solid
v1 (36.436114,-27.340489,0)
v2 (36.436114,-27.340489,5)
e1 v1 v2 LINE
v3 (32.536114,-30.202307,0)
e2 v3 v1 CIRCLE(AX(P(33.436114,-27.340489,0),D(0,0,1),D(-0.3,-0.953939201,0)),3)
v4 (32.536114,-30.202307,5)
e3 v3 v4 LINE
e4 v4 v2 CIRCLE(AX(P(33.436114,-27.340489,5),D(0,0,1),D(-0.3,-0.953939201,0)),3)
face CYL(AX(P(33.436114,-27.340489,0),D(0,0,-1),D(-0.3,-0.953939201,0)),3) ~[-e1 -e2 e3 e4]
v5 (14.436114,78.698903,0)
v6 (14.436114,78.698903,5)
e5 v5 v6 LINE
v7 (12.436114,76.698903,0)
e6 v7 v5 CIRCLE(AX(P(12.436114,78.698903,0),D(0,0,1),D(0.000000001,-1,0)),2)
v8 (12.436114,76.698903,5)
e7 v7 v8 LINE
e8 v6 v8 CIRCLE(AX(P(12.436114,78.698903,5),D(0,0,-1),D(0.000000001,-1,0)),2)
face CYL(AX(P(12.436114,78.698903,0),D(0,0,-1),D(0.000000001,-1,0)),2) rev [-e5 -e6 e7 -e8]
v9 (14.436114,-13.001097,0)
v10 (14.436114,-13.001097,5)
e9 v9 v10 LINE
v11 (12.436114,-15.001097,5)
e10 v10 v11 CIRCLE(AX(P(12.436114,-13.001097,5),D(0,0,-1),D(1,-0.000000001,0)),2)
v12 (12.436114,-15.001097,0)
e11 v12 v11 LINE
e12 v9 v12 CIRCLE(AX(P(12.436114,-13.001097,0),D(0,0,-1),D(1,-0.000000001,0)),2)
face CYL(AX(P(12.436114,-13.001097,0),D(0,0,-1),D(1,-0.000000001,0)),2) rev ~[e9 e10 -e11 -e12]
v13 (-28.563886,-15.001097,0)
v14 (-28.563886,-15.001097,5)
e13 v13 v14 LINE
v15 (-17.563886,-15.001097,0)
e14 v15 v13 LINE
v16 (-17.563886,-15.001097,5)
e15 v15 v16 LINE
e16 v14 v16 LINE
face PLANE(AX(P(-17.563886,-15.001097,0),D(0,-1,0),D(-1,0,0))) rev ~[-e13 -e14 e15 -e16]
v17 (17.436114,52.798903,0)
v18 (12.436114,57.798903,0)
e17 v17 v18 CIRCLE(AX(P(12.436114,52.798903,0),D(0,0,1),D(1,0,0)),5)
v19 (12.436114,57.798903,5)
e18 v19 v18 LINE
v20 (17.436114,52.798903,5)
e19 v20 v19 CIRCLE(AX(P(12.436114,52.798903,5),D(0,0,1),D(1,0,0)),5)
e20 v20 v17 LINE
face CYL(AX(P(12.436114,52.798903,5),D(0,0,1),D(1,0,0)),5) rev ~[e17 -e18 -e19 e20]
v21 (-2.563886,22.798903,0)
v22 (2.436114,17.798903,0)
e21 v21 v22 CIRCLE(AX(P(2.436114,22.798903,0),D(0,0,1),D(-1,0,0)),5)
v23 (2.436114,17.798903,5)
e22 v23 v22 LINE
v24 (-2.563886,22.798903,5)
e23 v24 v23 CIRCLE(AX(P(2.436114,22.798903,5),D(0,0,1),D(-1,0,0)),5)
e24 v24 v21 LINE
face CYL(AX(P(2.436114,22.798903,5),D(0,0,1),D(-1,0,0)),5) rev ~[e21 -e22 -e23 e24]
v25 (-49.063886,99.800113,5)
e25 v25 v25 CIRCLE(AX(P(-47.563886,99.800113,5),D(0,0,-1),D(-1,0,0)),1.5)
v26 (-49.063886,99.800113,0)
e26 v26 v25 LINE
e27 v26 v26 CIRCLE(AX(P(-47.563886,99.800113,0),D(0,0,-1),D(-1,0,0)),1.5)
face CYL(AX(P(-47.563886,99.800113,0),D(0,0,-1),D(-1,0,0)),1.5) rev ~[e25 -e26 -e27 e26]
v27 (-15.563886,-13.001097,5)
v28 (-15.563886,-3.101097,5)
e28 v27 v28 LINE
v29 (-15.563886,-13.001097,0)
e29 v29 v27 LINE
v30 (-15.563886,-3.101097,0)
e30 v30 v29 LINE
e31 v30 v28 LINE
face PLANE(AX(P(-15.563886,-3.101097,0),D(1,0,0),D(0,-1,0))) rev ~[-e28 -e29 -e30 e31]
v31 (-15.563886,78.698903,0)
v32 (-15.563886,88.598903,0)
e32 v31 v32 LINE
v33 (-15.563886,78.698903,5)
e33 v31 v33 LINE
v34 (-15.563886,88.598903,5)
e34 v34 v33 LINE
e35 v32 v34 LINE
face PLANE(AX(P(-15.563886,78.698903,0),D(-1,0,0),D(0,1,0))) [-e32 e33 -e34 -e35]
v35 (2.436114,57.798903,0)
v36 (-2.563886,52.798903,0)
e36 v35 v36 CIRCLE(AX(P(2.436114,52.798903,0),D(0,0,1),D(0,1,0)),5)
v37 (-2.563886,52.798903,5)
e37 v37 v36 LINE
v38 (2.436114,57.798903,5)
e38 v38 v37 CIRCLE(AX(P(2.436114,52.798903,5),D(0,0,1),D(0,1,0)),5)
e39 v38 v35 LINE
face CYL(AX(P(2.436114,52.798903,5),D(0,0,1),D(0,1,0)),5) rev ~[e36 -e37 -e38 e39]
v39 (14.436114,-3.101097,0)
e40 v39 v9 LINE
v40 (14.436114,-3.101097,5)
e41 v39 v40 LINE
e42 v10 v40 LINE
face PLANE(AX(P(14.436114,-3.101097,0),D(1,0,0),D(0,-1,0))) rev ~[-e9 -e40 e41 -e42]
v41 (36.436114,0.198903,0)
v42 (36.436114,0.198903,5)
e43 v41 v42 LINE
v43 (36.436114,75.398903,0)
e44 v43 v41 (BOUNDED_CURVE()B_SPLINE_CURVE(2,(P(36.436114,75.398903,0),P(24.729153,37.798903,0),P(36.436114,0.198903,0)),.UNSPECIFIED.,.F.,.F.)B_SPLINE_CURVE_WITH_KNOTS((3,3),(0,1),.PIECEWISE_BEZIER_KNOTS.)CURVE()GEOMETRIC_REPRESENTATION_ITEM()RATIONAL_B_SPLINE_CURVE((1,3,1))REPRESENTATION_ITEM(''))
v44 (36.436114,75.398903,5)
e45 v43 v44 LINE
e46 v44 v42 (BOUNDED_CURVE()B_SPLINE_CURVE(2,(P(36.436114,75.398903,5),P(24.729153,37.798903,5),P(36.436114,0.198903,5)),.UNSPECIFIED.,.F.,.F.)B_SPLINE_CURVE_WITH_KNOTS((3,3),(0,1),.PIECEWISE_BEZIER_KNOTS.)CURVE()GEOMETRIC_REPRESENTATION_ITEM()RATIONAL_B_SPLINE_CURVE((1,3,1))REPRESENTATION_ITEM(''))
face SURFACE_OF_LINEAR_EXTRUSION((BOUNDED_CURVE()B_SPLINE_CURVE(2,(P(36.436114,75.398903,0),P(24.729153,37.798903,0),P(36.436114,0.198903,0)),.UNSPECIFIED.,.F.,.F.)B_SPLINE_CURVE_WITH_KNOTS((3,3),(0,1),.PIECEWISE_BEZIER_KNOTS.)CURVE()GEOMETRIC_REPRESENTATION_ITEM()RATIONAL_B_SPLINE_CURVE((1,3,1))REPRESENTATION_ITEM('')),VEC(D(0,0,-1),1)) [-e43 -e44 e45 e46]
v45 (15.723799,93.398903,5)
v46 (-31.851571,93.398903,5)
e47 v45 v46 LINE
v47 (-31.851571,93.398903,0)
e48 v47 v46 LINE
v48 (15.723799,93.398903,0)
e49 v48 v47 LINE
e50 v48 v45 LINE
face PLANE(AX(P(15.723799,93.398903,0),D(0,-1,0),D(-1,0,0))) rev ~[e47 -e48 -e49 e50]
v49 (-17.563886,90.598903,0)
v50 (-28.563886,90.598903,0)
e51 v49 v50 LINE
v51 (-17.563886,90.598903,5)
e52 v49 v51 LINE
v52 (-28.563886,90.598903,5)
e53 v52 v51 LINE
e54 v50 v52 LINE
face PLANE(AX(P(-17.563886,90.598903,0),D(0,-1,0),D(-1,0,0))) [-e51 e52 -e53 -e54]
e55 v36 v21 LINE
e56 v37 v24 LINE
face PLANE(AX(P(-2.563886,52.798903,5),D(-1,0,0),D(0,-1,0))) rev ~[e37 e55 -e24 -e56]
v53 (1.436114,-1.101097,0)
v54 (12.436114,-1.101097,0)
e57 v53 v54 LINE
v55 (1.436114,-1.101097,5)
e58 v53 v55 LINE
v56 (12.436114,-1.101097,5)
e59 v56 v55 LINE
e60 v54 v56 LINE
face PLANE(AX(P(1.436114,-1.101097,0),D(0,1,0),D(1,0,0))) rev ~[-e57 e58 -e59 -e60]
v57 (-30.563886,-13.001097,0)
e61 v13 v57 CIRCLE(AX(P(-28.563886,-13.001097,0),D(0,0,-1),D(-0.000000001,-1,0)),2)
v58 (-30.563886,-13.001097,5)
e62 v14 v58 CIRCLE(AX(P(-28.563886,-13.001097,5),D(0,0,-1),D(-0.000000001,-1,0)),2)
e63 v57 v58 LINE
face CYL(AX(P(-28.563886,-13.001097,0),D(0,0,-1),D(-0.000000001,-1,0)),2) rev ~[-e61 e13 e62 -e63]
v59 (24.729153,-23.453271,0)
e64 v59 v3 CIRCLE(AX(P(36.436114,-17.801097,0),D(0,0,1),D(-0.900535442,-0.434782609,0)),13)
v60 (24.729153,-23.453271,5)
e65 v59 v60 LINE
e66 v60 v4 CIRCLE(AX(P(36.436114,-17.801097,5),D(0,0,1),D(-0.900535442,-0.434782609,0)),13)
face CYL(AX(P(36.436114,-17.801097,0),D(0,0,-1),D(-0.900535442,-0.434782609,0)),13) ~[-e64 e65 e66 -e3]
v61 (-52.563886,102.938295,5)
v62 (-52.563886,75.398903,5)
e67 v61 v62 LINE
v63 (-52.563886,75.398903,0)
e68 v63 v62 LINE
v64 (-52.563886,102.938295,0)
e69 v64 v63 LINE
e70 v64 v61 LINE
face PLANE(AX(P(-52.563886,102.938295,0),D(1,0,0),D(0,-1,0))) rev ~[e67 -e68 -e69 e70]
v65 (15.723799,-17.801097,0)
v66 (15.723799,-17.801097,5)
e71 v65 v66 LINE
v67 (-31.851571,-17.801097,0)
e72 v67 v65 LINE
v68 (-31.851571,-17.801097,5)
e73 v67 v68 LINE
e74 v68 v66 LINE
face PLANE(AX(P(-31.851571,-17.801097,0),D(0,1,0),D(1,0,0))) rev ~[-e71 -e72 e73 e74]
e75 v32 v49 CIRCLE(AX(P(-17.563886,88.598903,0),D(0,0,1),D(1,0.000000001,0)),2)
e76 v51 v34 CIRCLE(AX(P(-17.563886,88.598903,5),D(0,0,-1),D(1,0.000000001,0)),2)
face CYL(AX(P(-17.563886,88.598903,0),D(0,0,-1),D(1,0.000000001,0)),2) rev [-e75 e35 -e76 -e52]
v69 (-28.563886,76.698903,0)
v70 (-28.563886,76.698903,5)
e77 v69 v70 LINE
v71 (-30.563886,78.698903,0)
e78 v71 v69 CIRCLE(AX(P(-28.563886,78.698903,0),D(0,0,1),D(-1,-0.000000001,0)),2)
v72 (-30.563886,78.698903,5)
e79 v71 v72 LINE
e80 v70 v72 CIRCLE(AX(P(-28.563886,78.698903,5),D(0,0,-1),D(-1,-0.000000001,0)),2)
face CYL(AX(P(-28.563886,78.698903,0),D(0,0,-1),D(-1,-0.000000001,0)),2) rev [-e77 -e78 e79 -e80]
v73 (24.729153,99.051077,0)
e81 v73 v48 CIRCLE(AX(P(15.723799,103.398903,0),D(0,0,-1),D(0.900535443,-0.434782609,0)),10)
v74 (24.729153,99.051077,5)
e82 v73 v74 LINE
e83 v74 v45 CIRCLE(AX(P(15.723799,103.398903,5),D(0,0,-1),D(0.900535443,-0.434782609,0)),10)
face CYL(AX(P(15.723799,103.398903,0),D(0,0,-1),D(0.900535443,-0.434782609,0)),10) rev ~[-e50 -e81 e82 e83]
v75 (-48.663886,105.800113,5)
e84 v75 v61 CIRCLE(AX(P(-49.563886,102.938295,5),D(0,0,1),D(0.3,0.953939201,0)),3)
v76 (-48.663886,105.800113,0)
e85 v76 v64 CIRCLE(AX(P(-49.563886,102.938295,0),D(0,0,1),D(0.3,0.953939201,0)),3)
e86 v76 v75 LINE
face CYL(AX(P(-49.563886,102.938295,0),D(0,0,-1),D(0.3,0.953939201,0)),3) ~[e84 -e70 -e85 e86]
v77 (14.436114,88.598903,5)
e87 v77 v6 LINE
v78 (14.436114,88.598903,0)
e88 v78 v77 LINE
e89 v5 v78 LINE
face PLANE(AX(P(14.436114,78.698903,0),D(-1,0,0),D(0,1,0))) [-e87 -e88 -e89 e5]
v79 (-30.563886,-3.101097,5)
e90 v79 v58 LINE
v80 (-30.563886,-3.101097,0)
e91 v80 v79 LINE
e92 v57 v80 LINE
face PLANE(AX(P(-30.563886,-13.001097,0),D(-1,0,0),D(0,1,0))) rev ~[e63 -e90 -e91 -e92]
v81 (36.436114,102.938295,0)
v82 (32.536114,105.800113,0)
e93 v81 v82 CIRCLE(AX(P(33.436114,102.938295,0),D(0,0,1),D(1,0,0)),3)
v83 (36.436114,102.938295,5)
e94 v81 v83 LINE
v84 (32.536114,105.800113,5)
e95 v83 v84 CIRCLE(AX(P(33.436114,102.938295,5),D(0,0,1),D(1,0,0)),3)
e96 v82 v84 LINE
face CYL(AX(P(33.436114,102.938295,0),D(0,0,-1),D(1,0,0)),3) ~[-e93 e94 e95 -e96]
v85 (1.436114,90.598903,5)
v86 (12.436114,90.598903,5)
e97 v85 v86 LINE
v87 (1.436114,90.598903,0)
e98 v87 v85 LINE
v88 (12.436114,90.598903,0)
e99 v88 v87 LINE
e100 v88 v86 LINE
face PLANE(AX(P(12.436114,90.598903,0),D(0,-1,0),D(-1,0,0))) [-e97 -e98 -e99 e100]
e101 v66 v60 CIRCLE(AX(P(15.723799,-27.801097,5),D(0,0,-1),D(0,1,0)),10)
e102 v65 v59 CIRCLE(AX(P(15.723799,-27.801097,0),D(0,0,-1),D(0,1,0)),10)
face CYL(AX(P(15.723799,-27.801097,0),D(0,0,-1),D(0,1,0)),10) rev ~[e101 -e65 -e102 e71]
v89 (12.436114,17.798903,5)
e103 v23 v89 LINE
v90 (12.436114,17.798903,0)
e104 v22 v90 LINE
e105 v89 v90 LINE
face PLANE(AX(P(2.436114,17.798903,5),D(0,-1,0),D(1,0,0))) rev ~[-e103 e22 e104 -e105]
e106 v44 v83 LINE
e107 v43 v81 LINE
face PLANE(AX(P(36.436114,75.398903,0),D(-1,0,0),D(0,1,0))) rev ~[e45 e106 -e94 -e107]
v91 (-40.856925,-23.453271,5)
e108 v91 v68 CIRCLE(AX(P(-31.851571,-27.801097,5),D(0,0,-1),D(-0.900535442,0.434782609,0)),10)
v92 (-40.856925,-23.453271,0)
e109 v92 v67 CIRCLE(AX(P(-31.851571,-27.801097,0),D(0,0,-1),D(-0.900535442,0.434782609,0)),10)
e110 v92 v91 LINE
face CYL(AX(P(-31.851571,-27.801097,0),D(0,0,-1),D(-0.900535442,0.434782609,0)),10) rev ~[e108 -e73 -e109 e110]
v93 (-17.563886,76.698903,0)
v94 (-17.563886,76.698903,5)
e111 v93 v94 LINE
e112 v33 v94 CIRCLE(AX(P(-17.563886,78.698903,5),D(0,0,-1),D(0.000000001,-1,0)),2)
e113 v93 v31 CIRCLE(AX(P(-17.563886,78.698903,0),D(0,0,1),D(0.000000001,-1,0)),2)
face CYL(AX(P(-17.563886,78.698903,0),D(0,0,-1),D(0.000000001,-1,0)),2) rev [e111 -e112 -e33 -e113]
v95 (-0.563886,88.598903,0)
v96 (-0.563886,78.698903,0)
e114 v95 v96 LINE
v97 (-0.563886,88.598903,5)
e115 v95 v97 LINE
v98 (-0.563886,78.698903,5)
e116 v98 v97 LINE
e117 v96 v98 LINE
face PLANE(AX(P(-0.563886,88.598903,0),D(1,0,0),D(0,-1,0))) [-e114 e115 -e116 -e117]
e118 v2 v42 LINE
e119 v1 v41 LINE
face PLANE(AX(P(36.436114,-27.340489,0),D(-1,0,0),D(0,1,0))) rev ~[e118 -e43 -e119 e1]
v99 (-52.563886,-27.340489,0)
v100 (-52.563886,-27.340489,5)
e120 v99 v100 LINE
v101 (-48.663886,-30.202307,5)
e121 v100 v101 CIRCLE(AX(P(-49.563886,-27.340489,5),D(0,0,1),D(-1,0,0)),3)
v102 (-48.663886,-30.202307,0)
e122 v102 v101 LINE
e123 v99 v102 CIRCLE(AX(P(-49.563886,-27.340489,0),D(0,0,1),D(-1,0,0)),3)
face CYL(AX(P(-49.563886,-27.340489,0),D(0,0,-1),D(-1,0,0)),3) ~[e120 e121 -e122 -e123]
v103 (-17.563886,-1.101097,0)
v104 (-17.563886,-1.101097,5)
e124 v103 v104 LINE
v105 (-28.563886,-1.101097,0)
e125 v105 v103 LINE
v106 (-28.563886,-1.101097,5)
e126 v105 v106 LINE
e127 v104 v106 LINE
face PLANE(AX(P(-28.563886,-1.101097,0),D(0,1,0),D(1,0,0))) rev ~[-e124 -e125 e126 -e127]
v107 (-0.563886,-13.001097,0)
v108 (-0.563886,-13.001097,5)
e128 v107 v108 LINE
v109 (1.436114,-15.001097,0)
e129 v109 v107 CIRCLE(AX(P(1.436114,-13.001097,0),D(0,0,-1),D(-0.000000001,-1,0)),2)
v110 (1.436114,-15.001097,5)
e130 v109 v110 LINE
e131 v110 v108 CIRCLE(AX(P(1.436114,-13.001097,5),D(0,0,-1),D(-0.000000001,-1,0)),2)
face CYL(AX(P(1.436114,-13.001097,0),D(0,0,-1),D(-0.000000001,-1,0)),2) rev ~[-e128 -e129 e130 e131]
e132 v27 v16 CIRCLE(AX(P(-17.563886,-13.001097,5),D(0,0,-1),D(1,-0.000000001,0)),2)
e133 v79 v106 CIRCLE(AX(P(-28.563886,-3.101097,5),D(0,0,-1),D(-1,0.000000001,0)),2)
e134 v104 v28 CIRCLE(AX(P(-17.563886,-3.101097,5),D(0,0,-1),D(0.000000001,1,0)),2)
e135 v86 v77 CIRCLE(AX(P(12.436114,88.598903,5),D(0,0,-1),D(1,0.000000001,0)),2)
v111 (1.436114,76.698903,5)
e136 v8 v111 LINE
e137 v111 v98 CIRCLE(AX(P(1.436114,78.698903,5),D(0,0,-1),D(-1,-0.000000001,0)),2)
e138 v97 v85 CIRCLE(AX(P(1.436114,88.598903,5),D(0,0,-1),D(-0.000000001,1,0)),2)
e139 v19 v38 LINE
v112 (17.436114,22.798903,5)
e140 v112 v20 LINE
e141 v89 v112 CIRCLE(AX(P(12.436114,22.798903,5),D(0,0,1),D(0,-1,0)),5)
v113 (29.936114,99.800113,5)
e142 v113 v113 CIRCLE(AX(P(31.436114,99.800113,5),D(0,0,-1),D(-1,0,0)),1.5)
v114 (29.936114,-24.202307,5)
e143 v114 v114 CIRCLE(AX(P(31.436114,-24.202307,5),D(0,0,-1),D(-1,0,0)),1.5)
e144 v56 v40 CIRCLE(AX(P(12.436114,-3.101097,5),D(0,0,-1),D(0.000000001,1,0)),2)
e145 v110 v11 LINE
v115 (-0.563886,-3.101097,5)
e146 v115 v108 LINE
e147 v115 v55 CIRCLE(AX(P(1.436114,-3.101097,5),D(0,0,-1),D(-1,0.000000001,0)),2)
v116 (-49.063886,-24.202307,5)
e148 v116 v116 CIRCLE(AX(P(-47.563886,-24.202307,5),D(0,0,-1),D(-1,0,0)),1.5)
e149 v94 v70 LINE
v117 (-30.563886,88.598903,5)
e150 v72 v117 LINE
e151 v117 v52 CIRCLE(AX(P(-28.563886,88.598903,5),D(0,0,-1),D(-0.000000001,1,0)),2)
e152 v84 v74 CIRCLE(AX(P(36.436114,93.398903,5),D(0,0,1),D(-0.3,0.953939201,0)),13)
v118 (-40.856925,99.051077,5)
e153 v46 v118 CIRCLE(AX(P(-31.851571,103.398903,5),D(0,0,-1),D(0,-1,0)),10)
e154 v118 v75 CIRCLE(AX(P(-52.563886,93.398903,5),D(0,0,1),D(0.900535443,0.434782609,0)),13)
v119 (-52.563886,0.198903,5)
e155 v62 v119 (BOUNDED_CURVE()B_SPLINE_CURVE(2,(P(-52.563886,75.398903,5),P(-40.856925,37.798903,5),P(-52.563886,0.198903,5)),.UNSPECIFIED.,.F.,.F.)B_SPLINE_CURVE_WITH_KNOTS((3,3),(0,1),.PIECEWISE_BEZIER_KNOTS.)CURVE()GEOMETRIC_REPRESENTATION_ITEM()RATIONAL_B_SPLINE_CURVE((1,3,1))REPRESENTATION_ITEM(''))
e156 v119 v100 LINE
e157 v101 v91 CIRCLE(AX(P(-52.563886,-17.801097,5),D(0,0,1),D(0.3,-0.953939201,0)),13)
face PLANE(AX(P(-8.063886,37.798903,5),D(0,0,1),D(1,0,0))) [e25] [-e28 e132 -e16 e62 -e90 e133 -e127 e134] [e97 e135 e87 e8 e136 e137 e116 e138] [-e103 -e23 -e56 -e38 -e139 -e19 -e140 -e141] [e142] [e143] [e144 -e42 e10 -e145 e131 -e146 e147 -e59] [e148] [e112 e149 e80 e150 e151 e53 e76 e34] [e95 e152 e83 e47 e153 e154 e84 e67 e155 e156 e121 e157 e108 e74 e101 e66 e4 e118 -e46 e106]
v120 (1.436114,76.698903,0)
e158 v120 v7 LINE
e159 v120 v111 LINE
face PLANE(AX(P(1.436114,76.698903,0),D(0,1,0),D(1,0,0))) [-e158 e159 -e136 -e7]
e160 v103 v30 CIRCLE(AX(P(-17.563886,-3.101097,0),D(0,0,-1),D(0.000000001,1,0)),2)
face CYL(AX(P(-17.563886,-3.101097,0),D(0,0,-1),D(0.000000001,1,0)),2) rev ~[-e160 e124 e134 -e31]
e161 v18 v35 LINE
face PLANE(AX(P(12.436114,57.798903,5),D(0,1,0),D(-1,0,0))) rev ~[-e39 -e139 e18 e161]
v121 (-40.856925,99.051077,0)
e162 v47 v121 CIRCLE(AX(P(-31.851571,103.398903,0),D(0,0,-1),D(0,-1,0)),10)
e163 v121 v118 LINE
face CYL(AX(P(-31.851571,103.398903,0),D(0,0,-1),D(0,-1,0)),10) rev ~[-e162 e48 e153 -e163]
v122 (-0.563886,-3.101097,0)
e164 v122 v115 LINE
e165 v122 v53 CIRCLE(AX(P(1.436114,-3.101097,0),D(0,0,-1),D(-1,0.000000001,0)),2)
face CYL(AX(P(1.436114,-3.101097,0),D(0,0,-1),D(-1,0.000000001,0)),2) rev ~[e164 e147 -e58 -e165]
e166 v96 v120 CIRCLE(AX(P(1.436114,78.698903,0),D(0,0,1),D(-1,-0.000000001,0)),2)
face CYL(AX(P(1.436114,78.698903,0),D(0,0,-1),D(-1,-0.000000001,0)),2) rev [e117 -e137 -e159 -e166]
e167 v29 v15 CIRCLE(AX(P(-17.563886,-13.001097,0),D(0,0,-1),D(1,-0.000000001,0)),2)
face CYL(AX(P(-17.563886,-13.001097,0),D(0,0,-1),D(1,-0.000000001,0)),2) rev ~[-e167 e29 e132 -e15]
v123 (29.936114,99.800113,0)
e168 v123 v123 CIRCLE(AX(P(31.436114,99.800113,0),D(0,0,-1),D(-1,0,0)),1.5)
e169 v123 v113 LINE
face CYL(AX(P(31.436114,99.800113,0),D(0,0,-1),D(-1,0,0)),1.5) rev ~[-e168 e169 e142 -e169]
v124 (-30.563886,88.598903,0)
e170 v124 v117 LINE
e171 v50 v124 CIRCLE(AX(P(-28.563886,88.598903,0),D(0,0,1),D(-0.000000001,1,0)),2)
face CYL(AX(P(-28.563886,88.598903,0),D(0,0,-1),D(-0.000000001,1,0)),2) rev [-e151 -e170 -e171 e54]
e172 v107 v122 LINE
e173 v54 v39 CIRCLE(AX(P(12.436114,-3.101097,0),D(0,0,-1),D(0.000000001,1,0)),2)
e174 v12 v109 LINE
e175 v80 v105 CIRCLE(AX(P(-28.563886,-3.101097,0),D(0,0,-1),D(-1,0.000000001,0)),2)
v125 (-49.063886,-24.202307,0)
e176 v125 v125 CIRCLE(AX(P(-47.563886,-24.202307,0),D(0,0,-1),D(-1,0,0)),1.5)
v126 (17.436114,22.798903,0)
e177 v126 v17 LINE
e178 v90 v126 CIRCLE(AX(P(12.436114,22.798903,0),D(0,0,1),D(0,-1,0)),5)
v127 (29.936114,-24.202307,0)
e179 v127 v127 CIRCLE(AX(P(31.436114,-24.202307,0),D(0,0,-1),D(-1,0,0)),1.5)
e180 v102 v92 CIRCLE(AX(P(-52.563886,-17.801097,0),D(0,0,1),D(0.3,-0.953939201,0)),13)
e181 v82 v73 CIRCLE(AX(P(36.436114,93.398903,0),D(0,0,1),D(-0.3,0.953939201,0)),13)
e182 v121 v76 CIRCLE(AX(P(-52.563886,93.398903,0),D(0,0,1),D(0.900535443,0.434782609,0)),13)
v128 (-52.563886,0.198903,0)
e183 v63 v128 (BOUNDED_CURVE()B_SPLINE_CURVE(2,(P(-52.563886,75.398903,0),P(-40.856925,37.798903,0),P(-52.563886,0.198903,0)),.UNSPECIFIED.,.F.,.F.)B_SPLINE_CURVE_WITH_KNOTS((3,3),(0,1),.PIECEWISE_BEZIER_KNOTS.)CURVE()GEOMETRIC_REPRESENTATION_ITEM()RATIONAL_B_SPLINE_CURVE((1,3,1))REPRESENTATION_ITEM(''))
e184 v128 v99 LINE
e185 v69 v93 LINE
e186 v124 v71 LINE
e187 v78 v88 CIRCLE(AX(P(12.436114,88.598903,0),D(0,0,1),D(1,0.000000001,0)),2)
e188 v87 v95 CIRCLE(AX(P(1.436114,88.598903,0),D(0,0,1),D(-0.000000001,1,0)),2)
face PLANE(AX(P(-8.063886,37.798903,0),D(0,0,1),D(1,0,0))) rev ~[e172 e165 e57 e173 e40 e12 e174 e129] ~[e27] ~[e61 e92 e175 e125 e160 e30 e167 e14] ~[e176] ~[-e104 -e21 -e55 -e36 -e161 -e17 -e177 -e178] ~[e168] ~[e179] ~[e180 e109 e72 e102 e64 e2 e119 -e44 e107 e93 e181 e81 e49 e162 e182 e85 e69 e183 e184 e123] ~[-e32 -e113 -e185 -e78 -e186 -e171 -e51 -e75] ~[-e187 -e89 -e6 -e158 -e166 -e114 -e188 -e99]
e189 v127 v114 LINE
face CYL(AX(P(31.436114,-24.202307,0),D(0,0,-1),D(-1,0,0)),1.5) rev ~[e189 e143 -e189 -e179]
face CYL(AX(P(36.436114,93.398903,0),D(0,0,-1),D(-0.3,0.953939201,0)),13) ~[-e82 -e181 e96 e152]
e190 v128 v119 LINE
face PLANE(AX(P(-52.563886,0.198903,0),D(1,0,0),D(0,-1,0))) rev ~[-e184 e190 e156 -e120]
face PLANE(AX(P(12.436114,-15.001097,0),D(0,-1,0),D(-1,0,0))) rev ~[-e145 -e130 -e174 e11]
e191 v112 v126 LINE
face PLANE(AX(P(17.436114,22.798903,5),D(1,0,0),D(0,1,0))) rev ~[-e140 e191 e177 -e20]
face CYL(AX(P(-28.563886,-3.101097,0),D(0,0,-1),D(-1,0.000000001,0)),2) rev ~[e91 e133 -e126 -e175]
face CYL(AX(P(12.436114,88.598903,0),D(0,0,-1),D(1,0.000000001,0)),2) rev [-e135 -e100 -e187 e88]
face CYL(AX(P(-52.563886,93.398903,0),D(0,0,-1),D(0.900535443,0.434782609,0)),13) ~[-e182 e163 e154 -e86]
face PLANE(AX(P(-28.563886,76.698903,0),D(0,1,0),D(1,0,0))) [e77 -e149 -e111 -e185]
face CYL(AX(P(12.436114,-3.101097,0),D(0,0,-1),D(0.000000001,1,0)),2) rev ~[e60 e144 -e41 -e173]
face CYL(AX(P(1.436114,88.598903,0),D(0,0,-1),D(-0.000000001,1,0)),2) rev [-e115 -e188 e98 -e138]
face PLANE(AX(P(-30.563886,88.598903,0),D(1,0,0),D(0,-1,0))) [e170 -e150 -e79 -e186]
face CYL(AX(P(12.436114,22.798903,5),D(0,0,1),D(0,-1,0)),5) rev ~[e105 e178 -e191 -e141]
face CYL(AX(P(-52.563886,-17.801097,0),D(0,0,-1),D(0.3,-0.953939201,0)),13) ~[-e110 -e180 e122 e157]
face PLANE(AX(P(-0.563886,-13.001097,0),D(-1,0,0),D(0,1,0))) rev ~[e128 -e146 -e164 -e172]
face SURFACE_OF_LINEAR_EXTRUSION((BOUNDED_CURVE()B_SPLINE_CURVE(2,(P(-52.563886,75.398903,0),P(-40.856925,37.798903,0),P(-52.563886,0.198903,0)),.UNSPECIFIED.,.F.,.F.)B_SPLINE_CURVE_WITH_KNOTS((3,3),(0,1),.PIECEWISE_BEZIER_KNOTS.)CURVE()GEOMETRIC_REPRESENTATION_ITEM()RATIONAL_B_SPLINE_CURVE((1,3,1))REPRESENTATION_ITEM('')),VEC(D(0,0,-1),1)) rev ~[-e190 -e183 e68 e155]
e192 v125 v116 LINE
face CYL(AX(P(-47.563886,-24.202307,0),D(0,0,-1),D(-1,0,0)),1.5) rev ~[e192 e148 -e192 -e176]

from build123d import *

# Parameters (mm, degrees)
RESSALTO_EXTRUS_O3_DEPTH = 5
ESBO_O4_R                = 1.5
CORTE_EXTRUS_O3_DEPTH    = 10
CORTE_EXTRUS_O4_DEPTH    = 10


with BuildPart() as part:
    # Esboço1 → Ressalto-extrusão3 (new body)
    with BuildSketch(Plane.XY):
        with BuildLine():
            Line((-31.851570772, -17.801096987), (-27.063885949, -17.801096987))
            Line((-27.063885949, -17.801096987), (10.936114051, -17.801096987))
            Line((10.936114051, -17.801096987), (15.723798874, -17.801096987))
            ThreePointArc((15.723798874, -17.801096987), (21.039894205, -19.331201448), (24.729153299, -23.4532709))
            ThreePointArc((24.729153299, -23.4532709), (27.934250919, -27.635644423), (32.536114051, -30.202306605))
            ThreePointArc((32.536114051, -30.202306605), (35.210937986, -29.759166326), (36.436114051, -27.340489001))
            Line((36.436114051, -27.340489001), (36.436114051, -17.801096987))
            Line((36.436114051, -17.801096987), (36.436114051, 0.198903013))
            add(Edge.make_bspline(
                [(36.436114051, 75.398903013), (24.729153299, 37.798903013), (36.436114051, 0.198903013)],
                knots=[0, 0, 0, 1, 1, 1], degree=2, weights=[1, 3, 1]))
            Line((36.436114051, 75.398903013), (36.436114051, 93.398903013))
            Line((36.436114051, 93.398903013), (36.436114051, 102.938295027))
            ThreePointArc((36.436114051, 102.938295027), (35.210937986, 105.356972352), (32.536114051, 105.800112631))
            ThreePointArc((32.536114051, 105.800112631), (27.934250919, 103.23345045), (24.729153299, 99.051076926))
            ThreePointArc((24.729153299, 99.051076926), (21.039894205, 94.929007474), (15.723798874, 93.398903013))
            Line((15.723798874, 93.398903013), (10.936114051, 93.398903013))
            Line((10.936114051, 93.398903013), (-27.063885949, 93.398903013))
            Line((-27.063885949, 93.398903013), (-31.851570772, 93.398903013))
            ThreePointArc((-31.851570772, 93.398903013), (-37.167666102, 94.929007474), (-40.856925197, 99.051076926))
            ThreePointArc((-40.856925197, 99.051076926), (-44.062022817, 103.23345045), (-48.663885949, 105.800112631))
            ThreePointArc((-48.663885949, 105.800112631), (-51.338709884, 105.356972352), (-52.563885949, 102.938295027))
            Line((-52.563885949, 102.938295027), (-52.563885949, 93.398903013))
            Line((-52.563885949, 93.398903013), (-52.563885949, 75.398903013))
            add(Edge.make_bspline(
                [(-52.563885949, 75.398903013), (-40.856925197, 37.798903013), (-52.563885949, 0.198903013)],
                knots=[0, 0, 0, 1, 1, 1], degree=2, weights=[1, 3, 1]))
            Line((-52.563885949, 0.198903013), (-52.563885949, -17.801096987))
            Line((-52.563885949, -17.801096987), (-52.563885949, -27.340489001))
            ThreePointArc((-52.563885949, -27.340489001), (-51.338709884, -29.759166326), (-48.663885949, -30.202306605))
            ThreePointArc((-48.663885949, -30.202306605), (-44.062022817, -27.635644423), (-40.856925197, -23.4532709))
            ThreePointArc((-40.856925197, -23.4532709), (-37.167666102, -19.331201448), (-31.851570772, -17.801096987))
        make_face()
    extrude(amount=RESSALTO_EXTRUS_O3_DEPTH)

    # Esboço4 → Corte-extrusão3 (cut)
    with BuildSketch(Plane(origin=(0, 0, 0), x_dir=(-1, 0, 0), z_dir=(0, 0, -1))):
        with Locations((-31.436114051, 99.800112631)):
            Circle(ESBO_O4_R)
        with Locations((47.563885949, 99.800112631)):
            Circle(ESBO_O4_R)
        with Locations((47.563885949, -24.202306605)):
            Circle(ESBO_O4_R)
        with Locations((-31.436114051, -24.202306605)):
            Circle(ESBO_O4_R)
        with BuildLine():
            Line((-12.436114051, 90.598903013), (-1.436114051, 90.598903013))
            ThreePointArc((-1.436114051, 90.598903013), (-0.021900489, 90.013116575), (0.563885949, 88.598903013))
            Line((0.563885949, 88.598903013), (0.563885949, 78.698903013))
            ThreePointArc((0.563885949, 78.698903013), (-0.021900489, 77.284689451), (-1.436114051, 76.698903013))
            Line((-1.436114051, 76.698903013), (-12.436114051, 76.698903013))
            ThreePointArc((-12.436114051, 76.698903013), (-13.850327613, 77.284689451), (-14.436114051, 78.698903013))
            Line((-14.436114051, 78.698903013), (-14.436114051, 88.598903013))
            ThreePointArc((-14.436114051, 88.598903013), (-13.850327613, 90.013116575), (-12.436114051, 90.598903013))
        make_face()
        with BuildLine():
            Line((17.563885949, 90.598903013), (28.563885949, 90.598903013))
            ThreePointArc((28.563885949, 90.598903013), (29.978099511, 90.013116575), (30.563885949, 88.598903013))
            Line((30.563885949, 88.598903013), (30.563885949, 78.698903013))
            ThreePointArc((30.563885949, 78.698903013), (29.978099511, 77.284689451), (28.563885949, 76.698903013))
            Line((28.563885949, 76.698903013), (17.563885949, 76.698903013))
            ThreePointArc((17.563885949, 76.698903013), (16.149672387, 77.284689451), (15.563885949, 78.698903013))
            Line((15.563885949, 78.698903013), (15.563885949, 88.598903013))
            ThreePointArc((15.563885949, 88.598903013), (16.149672387, 90.013116575), (17.563885949, 90.598903013))
        make_face()
        with BuildLine():
            Line((30.563885949, -13.001096987), (30.563885949, -3.101096987))
            ThreePointArc((30.563885949, -3.101096987), (29.978099511, -1.686883425), (28.563885949, -1.101096987))
            Line((28.563885949, -1.101096987), (17.563885949, -1.101096987))
            ThreePointArc((17.563885949, -1.101096987), (16.149672387, -1.686883425), (15.563885949, -3.101096987))
            Line((15.563885949, -3.101096987), (15.563885949, -13.001096987))
            ThreePointArc((15.563885949, -13.001096987), (16.149672387, -14.415310549), (17.563885949, -15.001096987))
            Line((17.563885949, -15.001096987), (28.563885949, -15.001096987))
            ThreePointArc((28.563885949, -15.001096987), (29.978099511, -14.415310549), (30.563885949, -13.001096987))
        make_face()
        with BuildLine():
            Line((0.563885949, -13.001096987), (0.563885949, -3.101096987))
            ThreePointArc((0.563885949, -3.101096987), (-0.021900489, -1.686883425), (-1.436114051, -1.101096987))
            Line((-1.436114051, -1.101096987), (-12.436114051, -1.101096987))
            ThreePointArc((-12.436114051, -1.101096987), (-13.850327613, -1.686883425), (-14.436114051, -3.101096987))
            Line((-14.436114051, -3.101096987), (-14.436114051, -13.001096987))
            ThreePointArc((-14.436114051, -13.001096987), (-13.850327613, -14.415310549), (-12.436114051, -15.001096987))
            Line((-12.436114051, -15.001096987), (-1.436114051, -15.001096987))
            ThreePointArc((-1.436114051, -15.001096987), (-0.021900489, -14.415310549), (0.563885949, -13.001096987))
        make_face()
    extrude(amount=-CORTE_EXTRUS_O3_DEPTH, mode=Mode.SUBTRACT)

    # Esboço5 → Corte-extrusão4 (cut)
    with BuildSketch(Plane.XY.offset(5)):
        with BuildLine():
            Line((2.436114051, 17.798903013), (12.436114051, 17.798903013))
            ThreePointArc((12.436114051, 17.798903013), (15.971647957, 19.263369107), (17.436114051, 22.798903013))
            Line((17.436114051, 22.798903013), (17.436114051, 52.798903013))
            ThreePointArc((17.436114051, 52.798903013), (15.971647957, 56.334436919), (12.436114051, 57.798903013))
            Line((12.436114051, 57.798903013), (2.436114051, 57.798903013))
            ThreePointArc((2.436114051, 57.798903013), (-1.099419855, 56.334436919), (-2.563885949, 52.798903013))
            Line((-2.563885949, 52.798903013), (-2.563885949, 22.798903013))
            ThreePointArc((-2.563885949, 22.798903013), (-1.099419855, 19.263369107), (2.436114051, 17.798903013))
        make_face()
    extrude(amount=-CORTE_EXTRUS_O4_DEPTH, mode=Mode.SUBTRACT)


solid = part.part
